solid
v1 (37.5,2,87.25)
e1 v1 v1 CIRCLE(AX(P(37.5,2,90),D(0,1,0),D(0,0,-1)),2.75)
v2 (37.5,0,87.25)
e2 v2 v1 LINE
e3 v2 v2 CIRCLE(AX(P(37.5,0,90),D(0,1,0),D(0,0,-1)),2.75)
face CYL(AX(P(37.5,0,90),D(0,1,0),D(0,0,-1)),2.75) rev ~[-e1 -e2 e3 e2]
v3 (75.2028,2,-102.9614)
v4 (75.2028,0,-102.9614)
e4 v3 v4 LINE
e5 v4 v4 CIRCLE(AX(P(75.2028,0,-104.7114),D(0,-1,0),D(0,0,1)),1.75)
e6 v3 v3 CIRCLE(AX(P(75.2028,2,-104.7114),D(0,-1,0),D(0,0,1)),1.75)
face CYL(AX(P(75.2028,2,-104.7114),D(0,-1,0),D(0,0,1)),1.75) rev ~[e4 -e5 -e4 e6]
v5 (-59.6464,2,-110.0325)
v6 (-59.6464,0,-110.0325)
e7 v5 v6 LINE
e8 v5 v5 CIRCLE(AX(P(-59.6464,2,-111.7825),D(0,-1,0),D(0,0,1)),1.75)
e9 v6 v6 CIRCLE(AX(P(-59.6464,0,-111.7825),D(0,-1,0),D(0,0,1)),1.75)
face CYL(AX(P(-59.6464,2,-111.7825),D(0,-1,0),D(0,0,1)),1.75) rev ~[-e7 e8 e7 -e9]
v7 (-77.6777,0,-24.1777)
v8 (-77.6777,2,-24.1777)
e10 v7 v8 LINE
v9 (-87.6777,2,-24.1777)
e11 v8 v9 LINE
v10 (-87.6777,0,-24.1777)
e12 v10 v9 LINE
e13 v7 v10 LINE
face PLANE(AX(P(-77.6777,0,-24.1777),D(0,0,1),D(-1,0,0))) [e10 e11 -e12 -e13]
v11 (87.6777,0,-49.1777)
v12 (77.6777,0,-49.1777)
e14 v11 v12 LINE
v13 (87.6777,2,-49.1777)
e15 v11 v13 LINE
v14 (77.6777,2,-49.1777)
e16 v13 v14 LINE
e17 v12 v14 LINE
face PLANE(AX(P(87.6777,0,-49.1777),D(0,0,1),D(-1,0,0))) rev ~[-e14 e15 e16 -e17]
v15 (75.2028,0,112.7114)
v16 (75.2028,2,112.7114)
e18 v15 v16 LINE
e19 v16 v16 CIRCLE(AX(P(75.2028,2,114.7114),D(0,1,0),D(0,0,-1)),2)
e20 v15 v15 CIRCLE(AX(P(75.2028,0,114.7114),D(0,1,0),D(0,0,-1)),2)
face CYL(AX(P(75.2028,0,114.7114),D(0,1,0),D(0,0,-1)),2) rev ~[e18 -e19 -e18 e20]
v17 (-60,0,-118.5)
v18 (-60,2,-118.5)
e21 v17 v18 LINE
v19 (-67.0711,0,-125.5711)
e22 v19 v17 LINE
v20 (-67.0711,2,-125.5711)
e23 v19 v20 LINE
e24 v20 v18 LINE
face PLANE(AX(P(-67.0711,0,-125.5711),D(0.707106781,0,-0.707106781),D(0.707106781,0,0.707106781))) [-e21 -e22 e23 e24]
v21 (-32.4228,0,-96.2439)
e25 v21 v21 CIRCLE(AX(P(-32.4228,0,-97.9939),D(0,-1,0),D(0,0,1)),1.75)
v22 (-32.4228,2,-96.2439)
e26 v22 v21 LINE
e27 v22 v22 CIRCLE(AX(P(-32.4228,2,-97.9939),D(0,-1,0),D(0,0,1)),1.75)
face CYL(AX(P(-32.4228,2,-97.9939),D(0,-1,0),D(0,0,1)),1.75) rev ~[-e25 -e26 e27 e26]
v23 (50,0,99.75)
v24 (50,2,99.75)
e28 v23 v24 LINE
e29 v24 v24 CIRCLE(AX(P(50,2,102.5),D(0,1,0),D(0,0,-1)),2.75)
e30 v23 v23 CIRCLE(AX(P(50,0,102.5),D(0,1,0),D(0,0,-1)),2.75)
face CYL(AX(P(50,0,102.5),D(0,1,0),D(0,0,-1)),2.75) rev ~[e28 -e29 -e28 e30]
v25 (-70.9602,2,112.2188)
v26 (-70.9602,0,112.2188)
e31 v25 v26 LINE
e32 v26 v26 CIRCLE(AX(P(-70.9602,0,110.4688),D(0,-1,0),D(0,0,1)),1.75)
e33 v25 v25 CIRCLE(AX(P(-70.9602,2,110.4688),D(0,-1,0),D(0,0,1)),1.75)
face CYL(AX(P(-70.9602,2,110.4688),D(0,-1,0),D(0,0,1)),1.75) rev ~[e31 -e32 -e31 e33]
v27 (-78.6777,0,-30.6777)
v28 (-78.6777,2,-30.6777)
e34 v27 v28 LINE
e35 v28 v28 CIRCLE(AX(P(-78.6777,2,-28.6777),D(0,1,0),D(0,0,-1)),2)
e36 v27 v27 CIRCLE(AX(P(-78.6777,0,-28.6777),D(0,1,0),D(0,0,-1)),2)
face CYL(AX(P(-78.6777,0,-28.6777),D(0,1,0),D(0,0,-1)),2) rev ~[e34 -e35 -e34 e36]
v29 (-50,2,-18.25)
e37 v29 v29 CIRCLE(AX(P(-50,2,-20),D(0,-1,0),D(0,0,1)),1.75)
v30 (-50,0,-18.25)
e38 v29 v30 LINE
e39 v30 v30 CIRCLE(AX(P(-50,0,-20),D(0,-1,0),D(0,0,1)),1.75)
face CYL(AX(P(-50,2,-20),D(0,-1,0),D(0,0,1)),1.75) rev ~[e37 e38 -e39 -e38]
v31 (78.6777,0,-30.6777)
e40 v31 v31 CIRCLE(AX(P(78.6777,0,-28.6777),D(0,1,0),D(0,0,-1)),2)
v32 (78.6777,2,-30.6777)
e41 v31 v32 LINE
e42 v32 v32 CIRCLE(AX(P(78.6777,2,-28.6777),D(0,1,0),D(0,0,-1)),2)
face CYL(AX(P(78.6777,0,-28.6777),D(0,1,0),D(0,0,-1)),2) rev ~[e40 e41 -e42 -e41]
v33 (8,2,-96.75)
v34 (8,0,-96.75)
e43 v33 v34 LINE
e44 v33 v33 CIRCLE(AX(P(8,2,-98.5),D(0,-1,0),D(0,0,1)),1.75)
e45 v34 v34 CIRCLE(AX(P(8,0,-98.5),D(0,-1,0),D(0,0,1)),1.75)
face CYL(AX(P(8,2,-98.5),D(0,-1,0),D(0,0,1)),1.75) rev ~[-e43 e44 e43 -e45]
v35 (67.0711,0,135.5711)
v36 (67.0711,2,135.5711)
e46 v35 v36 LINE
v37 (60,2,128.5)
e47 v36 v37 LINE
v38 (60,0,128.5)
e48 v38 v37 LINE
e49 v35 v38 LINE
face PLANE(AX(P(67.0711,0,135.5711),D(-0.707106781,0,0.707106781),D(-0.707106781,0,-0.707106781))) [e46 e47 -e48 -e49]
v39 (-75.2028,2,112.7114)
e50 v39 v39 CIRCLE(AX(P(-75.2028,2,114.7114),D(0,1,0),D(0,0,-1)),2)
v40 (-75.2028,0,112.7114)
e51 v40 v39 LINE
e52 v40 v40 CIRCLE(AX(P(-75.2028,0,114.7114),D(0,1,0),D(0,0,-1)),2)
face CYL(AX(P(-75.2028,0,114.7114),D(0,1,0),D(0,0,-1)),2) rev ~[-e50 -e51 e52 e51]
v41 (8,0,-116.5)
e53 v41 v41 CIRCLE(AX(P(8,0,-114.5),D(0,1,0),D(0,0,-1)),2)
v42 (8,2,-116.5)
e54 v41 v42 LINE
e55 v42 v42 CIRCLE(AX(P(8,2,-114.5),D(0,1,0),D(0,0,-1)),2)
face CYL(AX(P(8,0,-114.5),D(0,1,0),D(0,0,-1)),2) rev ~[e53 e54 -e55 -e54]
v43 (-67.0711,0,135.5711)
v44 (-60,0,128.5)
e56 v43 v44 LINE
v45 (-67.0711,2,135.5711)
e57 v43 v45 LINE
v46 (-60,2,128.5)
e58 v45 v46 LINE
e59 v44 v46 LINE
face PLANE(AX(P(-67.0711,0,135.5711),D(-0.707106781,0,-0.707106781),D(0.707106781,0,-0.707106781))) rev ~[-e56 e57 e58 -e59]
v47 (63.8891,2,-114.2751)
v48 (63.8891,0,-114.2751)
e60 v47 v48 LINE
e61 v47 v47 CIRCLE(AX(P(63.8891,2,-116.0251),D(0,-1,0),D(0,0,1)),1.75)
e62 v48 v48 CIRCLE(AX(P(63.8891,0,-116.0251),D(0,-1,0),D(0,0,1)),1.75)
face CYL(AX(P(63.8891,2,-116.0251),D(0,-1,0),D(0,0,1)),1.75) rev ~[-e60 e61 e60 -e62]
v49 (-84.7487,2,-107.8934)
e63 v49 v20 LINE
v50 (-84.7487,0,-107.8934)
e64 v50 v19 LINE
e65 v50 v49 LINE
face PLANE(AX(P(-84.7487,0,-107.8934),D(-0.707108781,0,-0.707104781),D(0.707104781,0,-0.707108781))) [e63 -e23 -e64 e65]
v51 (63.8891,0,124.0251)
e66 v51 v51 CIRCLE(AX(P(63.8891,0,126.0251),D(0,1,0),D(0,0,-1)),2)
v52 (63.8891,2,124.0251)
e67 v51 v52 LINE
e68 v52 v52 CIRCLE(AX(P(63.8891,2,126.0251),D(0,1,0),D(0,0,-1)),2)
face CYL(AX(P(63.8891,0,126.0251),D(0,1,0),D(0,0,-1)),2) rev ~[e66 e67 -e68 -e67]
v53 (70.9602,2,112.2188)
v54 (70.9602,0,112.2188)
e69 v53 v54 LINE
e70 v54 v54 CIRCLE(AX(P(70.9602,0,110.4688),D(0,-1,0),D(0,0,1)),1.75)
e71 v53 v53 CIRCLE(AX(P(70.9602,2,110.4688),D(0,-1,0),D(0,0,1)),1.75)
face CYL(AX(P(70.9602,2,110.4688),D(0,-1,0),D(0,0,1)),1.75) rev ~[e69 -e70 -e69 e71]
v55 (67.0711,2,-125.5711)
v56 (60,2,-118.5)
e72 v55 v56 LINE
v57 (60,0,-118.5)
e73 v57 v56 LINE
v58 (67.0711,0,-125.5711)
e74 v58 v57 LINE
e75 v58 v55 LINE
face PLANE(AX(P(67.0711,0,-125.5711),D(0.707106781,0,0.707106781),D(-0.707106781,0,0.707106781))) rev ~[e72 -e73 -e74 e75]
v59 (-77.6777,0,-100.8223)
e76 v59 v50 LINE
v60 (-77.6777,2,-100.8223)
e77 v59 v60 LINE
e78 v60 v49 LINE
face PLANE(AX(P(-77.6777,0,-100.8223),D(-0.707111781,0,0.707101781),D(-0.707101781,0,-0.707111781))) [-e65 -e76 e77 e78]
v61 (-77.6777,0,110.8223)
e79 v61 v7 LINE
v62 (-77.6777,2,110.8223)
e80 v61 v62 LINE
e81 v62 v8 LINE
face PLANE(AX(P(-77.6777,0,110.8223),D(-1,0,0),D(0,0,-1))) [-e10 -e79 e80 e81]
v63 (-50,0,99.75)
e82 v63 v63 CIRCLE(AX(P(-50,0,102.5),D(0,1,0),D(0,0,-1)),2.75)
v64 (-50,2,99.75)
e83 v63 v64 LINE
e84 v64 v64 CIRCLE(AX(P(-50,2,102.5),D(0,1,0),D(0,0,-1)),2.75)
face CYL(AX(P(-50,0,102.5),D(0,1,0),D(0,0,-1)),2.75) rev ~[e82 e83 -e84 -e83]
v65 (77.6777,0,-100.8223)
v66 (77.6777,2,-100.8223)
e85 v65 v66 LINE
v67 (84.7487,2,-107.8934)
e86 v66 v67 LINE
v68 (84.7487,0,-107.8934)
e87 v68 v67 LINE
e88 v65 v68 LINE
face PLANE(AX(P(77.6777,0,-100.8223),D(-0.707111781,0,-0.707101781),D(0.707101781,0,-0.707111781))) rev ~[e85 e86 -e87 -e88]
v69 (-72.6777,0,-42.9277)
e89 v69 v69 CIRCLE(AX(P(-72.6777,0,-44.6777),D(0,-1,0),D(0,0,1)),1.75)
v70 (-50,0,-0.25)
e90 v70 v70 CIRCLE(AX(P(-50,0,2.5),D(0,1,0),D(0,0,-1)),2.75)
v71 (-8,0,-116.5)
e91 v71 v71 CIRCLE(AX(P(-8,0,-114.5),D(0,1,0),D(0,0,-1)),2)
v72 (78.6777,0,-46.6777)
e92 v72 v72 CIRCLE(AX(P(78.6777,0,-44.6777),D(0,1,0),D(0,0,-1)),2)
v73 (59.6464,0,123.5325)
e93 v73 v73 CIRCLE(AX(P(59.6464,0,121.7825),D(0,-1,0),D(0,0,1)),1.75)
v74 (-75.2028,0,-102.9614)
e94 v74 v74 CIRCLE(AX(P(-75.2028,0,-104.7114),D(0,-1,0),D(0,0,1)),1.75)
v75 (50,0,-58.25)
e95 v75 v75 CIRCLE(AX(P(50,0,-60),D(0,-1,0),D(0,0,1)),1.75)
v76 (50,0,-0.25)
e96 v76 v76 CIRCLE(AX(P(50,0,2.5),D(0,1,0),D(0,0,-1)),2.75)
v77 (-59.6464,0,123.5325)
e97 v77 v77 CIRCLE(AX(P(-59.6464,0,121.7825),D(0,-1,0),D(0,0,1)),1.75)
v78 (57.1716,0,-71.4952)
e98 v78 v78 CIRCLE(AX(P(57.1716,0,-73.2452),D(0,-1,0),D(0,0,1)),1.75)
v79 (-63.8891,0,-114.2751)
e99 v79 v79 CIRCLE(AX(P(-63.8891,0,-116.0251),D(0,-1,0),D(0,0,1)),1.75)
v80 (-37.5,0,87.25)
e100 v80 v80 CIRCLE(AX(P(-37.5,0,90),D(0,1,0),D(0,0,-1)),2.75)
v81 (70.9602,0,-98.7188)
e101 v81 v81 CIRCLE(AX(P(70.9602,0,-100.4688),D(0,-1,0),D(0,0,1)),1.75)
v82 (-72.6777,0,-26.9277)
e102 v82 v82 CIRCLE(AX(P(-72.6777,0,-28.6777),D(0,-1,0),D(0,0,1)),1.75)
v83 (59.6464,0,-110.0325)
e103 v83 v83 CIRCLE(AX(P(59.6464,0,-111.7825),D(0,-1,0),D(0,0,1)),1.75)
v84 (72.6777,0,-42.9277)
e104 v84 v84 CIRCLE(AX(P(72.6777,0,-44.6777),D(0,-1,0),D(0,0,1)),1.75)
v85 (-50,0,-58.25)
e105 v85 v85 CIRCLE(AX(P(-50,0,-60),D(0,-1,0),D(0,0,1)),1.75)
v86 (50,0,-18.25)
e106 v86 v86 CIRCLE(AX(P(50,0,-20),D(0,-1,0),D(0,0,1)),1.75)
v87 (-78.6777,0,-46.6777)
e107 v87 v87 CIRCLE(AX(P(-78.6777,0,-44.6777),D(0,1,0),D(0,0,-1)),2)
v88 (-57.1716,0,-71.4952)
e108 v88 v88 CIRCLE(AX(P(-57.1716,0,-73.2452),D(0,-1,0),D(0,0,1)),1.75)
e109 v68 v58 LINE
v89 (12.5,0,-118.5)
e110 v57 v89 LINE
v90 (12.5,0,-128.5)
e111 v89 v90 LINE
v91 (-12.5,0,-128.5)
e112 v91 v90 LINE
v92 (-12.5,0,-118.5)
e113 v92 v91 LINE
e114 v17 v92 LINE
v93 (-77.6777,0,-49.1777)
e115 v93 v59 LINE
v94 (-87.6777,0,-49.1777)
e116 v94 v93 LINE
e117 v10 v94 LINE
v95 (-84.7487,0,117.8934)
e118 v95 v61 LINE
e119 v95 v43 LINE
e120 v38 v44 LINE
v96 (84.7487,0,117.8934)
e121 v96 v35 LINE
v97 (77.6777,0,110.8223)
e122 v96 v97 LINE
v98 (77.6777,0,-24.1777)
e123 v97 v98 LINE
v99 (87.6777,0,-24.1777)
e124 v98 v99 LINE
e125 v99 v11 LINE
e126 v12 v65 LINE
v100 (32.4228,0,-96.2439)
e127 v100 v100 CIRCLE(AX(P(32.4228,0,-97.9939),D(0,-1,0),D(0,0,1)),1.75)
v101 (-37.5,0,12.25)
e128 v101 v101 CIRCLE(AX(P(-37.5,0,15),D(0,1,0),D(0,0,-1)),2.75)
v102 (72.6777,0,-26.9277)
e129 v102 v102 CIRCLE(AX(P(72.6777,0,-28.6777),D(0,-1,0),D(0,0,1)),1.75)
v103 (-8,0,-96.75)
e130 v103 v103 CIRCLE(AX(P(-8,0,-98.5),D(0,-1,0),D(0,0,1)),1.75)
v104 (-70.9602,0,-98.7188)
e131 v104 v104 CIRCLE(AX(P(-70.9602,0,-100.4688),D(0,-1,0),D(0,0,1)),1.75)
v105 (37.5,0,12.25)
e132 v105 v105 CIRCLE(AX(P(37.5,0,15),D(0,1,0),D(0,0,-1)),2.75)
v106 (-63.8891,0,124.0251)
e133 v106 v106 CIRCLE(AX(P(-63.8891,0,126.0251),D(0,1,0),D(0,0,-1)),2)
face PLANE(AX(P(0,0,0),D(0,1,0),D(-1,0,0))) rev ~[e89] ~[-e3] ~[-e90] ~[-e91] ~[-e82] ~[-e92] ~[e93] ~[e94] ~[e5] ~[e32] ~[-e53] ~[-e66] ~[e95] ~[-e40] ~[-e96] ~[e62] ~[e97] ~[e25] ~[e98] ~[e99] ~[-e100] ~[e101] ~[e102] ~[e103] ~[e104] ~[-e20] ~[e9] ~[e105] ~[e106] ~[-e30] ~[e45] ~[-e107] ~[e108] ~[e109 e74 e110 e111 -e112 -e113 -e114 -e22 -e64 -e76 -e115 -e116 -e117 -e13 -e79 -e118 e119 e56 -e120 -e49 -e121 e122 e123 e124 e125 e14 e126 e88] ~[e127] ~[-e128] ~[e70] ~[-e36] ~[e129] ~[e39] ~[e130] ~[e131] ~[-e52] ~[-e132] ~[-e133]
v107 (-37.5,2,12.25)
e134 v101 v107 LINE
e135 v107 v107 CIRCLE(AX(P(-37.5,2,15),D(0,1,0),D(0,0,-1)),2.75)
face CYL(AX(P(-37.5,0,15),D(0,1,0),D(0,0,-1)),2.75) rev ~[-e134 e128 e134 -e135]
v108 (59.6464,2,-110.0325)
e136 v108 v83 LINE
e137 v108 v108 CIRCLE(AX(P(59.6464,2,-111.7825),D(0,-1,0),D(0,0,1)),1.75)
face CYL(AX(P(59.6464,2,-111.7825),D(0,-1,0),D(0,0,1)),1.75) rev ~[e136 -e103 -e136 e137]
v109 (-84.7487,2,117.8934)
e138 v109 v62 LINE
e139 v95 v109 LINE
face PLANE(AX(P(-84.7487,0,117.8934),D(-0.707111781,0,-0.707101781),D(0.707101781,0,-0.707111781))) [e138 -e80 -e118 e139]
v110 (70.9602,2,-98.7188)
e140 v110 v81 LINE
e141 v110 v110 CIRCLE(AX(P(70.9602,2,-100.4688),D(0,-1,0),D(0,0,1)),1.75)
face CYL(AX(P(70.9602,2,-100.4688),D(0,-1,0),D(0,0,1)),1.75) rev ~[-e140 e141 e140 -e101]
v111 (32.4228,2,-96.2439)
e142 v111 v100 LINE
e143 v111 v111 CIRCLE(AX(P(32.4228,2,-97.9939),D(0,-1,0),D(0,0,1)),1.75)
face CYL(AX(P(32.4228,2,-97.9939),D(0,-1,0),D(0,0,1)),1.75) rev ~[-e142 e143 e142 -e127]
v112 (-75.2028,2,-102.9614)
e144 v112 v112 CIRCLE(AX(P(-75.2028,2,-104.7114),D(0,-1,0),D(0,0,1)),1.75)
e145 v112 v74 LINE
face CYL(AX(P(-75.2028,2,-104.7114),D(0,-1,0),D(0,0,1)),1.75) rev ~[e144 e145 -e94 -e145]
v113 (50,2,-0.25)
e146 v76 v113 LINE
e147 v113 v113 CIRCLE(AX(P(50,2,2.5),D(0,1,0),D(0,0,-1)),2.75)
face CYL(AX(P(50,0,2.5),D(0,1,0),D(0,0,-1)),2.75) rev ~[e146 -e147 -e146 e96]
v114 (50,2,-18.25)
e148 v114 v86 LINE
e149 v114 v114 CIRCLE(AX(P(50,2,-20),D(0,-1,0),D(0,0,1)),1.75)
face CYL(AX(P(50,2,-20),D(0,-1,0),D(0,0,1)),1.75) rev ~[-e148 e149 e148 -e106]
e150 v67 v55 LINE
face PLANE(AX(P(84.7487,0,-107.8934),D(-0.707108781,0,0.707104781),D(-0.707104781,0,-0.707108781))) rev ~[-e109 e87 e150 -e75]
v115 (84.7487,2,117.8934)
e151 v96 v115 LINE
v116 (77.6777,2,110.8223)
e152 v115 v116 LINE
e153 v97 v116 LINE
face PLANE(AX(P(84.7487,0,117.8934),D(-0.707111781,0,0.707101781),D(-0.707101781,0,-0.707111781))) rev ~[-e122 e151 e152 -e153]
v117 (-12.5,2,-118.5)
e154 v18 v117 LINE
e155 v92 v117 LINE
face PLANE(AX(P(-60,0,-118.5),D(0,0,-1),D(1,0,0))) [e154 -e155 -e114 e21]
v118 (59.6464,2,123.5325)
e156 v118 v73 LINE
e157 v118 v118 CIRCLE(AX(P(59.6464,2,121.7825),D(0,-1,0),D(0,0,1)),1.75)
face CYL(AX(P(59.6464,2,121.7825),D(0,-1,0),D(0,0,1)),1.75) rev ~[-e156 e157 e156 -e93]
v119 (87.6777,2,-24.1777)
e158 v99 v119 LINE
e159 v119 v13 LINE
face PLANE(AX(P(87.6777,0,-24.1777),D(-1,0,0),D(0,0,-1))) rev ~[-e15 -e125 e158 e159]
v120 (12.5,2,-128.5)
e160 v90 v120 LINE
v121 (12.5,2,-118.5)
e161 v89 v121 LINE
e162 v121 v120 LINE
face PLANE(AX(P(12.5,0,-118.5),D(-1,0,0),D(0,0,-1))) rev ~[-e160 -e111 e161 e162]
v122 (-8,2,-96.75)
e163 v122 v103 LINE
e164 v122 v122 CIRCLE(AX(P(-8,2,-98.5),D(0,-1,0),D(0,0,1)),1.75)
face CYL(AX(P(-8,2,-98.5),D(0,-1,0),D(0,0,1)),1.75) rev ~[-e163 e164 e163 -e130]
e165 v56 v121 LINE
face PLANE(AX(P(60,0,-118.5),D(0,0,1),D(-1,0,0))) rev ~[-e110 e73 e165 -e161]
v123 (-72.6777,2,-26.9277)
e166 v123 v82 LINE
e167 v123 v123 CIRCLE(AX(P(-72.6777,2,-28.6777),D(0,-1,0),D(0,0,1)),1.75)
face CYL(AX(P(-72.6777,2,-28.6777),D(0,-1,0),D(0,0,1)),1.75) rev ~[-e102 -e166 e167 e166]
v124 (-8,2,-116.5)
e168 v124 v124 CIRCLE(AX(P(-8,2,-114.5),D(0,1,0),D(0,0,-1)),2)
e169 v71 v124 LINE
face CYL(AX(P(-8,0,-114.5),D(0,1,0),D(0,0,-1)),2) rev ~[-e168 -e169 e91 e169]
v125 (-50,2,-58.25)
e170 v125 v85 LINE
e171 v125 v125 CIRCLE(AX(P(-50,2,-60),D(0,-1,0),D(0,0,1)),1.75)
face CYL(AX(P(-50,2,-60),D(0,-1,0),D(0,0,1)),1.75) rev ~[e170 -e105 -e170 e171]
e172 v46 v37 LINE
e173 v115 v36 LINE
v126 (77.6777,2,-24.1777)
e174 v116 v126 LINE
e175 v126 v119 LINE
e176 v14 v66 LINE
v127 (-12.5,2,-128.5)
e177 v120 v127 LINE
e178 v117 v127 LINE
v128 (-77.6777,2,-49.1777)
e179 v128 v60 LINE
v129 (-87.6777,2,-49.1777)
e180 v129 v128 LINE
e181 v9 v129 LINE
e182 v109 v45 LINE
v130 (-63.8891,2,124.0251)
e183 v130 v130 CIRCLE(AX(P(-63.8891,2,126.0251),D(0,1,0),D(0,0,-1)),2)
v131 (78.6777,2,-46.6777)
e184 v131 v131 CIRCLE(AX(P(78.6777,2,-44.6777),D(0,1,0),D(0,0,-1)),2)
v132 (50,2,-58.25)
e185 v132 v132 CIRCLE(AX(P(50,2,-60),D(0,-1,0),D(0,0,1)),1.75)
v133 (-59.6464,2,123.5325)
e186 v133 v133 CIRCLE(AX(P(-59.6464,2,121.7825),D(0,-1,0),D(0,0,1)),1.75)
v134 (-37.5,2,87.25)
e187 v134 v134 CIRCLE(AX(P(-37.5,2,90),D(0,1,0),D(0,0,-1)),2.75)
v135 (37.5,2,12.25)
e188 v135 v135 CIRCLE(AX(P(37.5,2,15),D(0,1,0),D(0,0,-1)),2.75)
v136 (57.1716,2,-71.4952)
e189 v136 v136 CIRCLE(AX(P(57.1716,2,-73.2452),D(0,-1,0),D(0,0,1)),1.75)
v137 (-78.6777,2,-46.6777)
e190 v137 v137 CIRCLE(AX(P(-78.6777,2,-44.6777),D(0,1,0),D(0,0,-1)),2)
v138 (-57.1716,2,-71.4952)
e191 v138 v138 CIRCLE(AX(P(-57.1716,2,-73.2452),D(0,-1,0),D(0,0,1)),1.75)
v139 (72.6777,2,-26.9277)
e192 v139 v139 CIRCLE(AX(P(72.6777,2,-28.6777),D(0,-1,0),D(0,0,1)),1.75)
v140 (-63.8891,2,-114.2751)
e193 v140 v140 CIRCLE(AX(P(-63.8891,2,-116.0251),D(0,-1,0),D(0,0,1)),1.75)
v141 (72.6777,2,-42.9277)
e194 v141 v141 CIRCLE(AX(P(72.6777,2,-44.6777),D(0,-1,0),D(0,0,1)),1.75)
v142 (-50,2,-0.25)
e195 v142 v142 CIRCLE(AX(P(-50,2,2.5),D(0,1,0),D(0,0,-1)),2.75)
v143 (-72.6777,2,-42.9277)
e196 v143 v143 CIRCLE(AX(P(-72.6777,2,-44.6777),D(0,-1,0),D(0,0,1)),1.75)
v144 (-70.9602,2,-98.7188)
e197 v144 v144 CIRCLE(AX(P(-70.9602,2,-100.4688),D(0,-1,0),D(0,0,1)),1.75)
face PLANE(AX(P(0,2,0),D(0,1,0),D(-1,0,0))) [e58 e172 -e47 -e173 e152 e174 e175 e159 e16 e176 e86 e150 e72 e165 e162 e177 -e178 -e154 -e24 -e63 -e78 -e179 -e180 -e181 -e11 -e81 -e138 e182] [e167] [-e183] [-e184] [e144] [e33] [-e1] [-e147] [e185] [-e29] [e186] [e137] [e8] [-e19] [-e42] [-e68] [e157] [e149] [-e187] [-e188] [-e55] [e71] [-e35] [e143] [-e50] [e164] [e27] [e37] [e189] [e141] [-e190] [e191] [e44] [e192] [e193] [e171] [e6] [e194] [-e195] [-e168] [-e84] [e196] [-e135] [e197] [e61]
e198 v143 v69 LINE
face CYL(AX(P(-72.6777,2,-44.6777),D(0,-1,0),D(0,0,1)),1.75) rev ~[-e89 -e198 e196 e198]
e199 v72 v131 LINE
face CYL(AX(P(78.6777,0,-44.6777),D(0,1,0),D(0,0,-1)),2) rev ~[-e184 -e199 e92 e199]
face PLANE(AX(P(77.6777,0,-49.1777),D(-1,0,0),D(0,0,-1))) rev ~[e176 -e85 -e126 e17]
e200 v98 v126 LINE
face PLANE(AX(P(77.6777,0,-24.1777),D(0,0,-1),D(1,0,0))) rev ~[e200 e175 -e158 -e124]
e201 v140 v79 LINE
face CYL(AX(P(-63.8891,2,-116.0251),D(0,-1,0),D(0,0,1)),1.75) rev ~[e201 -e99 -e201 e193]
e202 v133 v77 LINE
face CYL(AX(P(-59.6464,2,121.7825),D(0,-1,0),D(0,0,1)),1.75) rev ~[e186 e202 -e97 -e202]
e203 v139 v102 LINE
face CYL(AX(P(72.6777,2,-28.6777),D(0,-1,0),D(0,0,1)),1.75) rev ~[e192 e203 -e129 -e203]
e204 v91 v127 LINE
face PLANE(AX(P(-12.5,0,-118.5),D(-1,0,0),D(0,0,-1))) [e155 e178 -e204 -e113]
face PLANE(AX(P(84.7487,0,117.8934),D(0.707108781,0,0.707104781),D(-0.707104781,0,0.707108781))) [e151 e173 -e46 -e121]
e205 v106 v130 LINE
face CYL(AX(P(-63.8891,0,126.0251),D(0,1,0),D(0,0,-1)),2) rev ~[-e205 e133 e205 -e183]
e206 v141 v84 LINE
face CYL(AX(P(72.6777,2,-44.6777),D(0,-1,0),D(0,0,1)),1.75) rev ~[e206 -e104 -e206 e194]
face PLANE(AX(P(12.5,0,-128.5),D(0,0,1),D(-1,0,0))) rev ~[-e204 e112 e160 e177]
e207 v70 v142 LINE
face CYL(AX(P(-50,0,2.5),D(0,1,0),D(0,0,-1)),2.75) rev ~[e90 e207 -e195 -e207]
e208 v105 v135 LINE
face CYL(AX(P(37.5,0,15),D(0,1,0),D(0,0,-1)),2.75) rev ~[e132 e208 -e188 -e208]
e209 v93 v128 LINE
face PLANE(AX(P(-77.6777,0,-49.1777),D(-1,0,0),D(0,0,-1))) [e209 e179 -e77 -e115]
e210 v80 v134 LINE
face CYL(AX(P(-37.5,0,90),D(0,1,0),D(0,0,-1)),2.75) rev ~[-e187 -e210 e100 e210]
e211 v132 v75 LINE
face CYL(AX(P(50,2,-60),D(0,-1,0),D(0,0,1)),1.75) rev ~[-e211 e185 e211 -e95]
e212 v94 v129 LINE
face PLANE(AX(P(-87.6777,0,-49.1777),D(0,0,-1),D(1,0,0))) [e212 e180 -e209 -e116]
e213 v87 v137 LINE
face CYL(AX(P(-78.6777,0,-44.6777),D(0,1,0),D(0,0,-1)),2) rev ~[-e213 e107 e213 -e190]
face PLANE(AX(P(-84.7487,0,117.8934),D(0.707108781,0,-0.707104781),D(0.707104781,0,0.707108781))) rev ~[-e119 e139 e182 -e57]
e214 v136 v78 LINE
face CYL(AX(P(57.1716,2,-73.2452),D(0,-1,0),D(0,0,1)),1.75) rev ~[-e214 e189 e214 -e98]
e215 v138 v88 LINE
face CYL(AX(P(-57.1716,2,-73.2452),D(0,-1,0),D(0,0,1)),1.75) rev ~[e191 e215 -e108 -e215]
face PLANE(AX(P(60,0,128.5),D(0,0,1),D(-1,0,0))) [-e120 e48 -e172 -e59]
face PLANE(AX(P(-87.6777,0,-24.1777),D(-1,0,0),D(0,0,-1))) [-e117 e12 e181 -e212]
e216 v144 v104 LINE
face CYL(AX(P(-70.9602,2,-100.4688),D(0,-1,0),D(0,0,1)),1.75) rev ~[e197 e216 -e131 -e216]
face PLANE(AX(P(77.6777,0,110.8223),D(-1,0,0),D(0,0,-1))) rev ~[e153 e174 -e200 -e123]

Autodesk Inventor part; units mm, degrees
ref_plane "YZ Plane" through (0, 0, 0) normal (1, 0, 0) x (0, 1, 0)
ref_plane "XZ Plane" through (0, 0, 0) normal (0, 1, 0) x (-1, 0, 0)
ref_plane "XY Plane" through (0, 0, 0) normal (0, 0, 1) x (1, 0, 0)
sketch "スケッチ1" plane through (0, 0, 0) normal (0, 1, 0) x (-1, 0, 0)
  line L0 (-84.7487, 117.8934) -> (-67.0711, 135.5711)
  line L1 (-67.0711, 135.5711) -> (-60, 128.5)
  line L2 (-60, 128.5) -> (0, 128.5)
  line L3 (-84.7487, 117.8934) -> (-77.6777, 110.8223)
  line L4 (-77.6777, 110.8223) -> (-77.6777, -24.1777)
  line L5 (-77.6777, -24.1777) -> (-87.6777, -24.1777)
  line L6 (-87.6777, -24.1777) -> (-87.6777, -49.1777)
  line L7 (-87.6777, -49.1777) -> (-77.6777, -49.1777)
  line L8 (-77.6777, -49.1777) -> (-77.6777, -100.8223)
  line L9 (-77.6777, -100.8223) -> (-84.7487, -107.8934)
  line L10 (-84.7487, -107.8934) -> (-67.0711, -125.5711)
  line L11 (-67.0711, -125.5711) -> (-60, -118.5)
  line L12 (-60, -118.5) -> (-12.5, -118.5)
  line L13 (-12.5, -118.5) -> (-12.5, -128.5)
  line L14 (-12.5, -128.5) -> (0, -128.5)
  line L15 (0, -128.5) -> (0, 128.5)
  line L16 (84.7487, 117.8934) -> (67.0711, 135.5711)
  line L17 (67.0711, 135.5711) -> (60, 128.5)
  line L18 (60, 128.5) -> (0, 128.5)
  line L19 (84.7487, 117.8934) -> (77.6777, 110.8223)
  line L20 (77.6777, 110.8223) -> (77.6777, -24.1777)
  line L21 (77.6777, -24.1777) -> (87.6777, -24.1777)
  line L22 (87.6777, -24.1777) -> (87.6777, -49.1777)
  line L23 (87.6777, -49.1777) -> (77.6777, -49.1777)
  line L24 (77.6777, -49.1777) -> (77.6777, -100.8223)
  line L25 (77.6777, -100.8223) -> (84.7487, -107.8934)
  line L26 (84.7487, -107.8934) -> (67.0711, -125.5711)
  line L27 (67.0711, -125.5711) -> (60, -118.5)
  line L28 (60, -118.5) -> (12.5, -118.5)
  line L29 (12.5, -118.5) -> (12.5, -128.5)
  line L30 (12.5, -128.5) -> (0, -128.5)
  point P0 (0, 0)
  dimension "d0" = 135
  dimension "d2" = 135
  dimension "d4" = 10
  dimension "d6" = 128.5
  dimension "d8" = 25
  dimension "d9" = 257
  dimension "d10" = 12.5
  dimension "d12" = 60
  dimension "d13" = 0
  dimension "d40" = 10
extrude "押し出し1" add sketch "スケッチ1" along normal blind 2
sketch "スケッチ2" plane through (0, 2, 0) normal (0, 1, 0) x (1, 0, 0)
  line L0 (12.5, 128.5) -> (-12.5, 128.5) projected
  line L1 (-67.0711, 125.5711) -> (-84.7487, 107.8934) projected
  line L2 (-84.7487, 107.8934) -> (-77.6777, 100.8223) projected
  line L3 (-87.6777, 49.1777) -> (-87.6777, 24.1777) projected
  line L4 (-87.6777, 24.1777) -> (-77.6777, 24.1777) projected
  line L5 (-84.7487, -117.8934) -> (-67.0711, -135.5711) projected
  line L6 (-67.0711, -135.5711) -> (-60, -128.5) projected
  line L7 (-60, -128.5) -> (60, -128.5) projected
  circle A0 centre (-59.6464, 111.7825) radius 1.6
  circle A1 centre (-70.9602, 100.4688) radius 1.6
  circle A2 centre (-8, 98.5) radius 1.6
  circle A3 centre (-72.6777, 44.6777) radius 1.6
  circle A4 centre (-72.6777, 28.6777) radius 1.6
  circle A5 centre (-70.9602, -110.4688) radius 1.6
  circle A6 centre (-59.6464, -121.7825) radius 1.6
  line L8 (0, 128.5) -> (0, -128.5)
  circle A7 centre (59.6464, 111.7825) radius 1.6
  circle A8 centre (70.9602, 100.4688) radius 1.6
  circle A9 centre (8, 98.5) radius 1.6
  circle A10 centre (72.6777, 44.6777) radius 1.6
  circle A11 centre (72.6777, 28.6777) radius 1.6
  circle A12 centre (70.9602, -110.4688) radius 1.6
  circle A13 centre (59.6464, -121.7825) radius 1.6
  point P0 (0, 0)
  dimension "d16" = 3.2
  dimension "d17" = 30
  dimension "d18" = 8
  dimension "d21" = 15
  dimension "d22" = 15
  dimension "d23" = 16
  dimension "d24" = 4.5
  dimension "d25" = 15
  dimension "d26" = 15
  dimension "d27" = 16
  dimension "d28" = 4.5
  dimension "d29" = 15
  dimension "d30" = 15
  dimension "d31" = 16
  dimension "d32" = 4.5
hole "穴1" at (-59.6464, 2, -111.7825) at (-70.9602, 2, -100.4688) at (-72.6777, 2, -44.6777) at (-72.6777, 2, -28.6777) at (-8, 2, -98.5) at (8, 2, -98.5) at (59.6464, 2, -111.7825) at (70.9602, 2, -100.4688) at (-70.9602, 2, 110.4688) at (-59.6464, 2, 121.7825) at (59.6464, 2, 121.7825) at (70.9602, 2, 110.4688) at (72.6777, 2, -28.6777) at (72.6777, 2, -44.6777) direction (0, -1, 0) diameter 3.5 end through all
sketch "スケッチ3" plane through (0, 0, 0) normal (0, -1, 0) x (1, 0, 0)
  line L0 (-60, 128.5) -> (60, 128.5) projected
  circle A0 centre (-37.5, 90) radius 2.5
  circle A1 centre (-50, 102.5) radius 2.5
  circle A2 centre (-37.5, 15) radius 2.5
  circle A3 centre (-50, 2.5) radius 2.5
  line L1 (0, 0) -> (0, 128.5)
  circle A4 centre (37.5, 90) radius 2.5
  circle A5 centre (50, 2.5) radius 2.5
  circle A6 centre (37.5, 90) radius 2.5
  circle A7 centre (50, 102.5) radius 2.5
  circle A8 centre (37.5, 15) radius 2.5
  circle A9 centre (50, 2.5) radius 2.5
  dimension "d41" = 5
  dimension "d44" = 100
  dimension "d45" = 75
  dimension "d46" = 12.5
  dimension "d47" = 37.5
  dimension "d48" = 50
  dimension "d49" = 37.5
  dimension "d50" = 50
  dimension "d51" = 15
hole "穴2" at (-37.5, 0, 90) at (-50, 0, 102.5) at (-37.5, 0, 15) at (-50, 0, 2.5) at (37.5, 0, 15) at (50, 0, 2.5) at (37.5, 0, 90) at (50, 0, 102.5) direction (0, 1, 0) diameter 5.5 end through all
sketch "スケッチ5" plane through (0, 2, 0) normal (0, 1, 0) x (1, 0, 0)
  line L0 (77.6777, 100.8223) -> (84.7487, 107.8934) projected
  line L1 (84.7487, 107.8934) -> (67.0711, 125.5711) projected
  line L2 (-67.0711, 125.5711) -> (-84.7487, 107.8934) projected
  line L3 (-84.7487, 107.8934) -> (-77.6777, 100.8223) projected
  circle A0 centre (-57.1716, 73.2452) radius 1.5
  circle A1 centre (-32.4228, 97.9939) radius 1.5
  circle A2 centre (32.4228, 97.9939) radius 1.5
  circle A3 centre (57.1716, 73.2452) radius 1.5
  line L4 (-32.4228, 97.9939) -> (-57.1716, 73.2452)
  line L5 (32.4228, 97.9939) -> (57.1716, 73.2452)
  circle A4 centre (-75.2028, 104.7114) radius 1.5
  circle A5 centre (-63.8891, 116.0251) radius 1.5
  circle A6 centre (37.5, -90) radius 2.75 projected
  circle A7 centre (37.5, -15) radius 2.75 projected
  circle A8 centre (-37.5, -15) radius 2.75 projected
  circle A9 centre (-37.5, -90) radius 2.75 projected
  circle A10 centre (-50, -102.5) radius 2.75 projected
  circle A11 centre (-50, -2.5) radius 2.75 projected
  circle A12 centre (50, -2.5) radius 2.75 projected
  circle A13 centre (50, -102.5) radius 2.75 projected
  circle A14 centre (72.6777, 28.6777) radius 1.75 projected
  circle A15 centre (59.6464, -121.7825) radius 1.75 projected
  circle A16 centre (-70.9602, -110.4688) radius 1.75 projected
  circle A17 centre (59.6464, 111.7825) radius 1.75 projected
  circle A18 centre (-8, 98.5) radius 1.75 projected
  circle A19 centre (-72.6777, 44.6777) radius 1.75 projected
  circle A20 centre (-59.6464, 111.7825) radius 1.75 projected
  circle A21 centre (-70.9602, 100.4688) radius 1.75 projected
  circle A22 centre (-72.6777, 28.6777) radius 1.75 projected
  circle A23 centre (8, 98.5) radius 1.75 projected
  circle A24 centre (70.9602, 100.4688) radius 1.75 projected
  circle A25 centre (-59.6464, -121.7825) radius 1.75 projected
  circle A26 centre (70.9602, -110.4688) radius 1.75 projected
  circle A27 centre (72.6777, 44.6777) radius 1.75 projected
  line L6 (84.7487, -117.8934) -> (77.6777, -110.8223) projected
  line L7 (77.6777, -110.8223) -> (77.6777, 24.1777) projected
  line L8 (77.6777, 24.1777) -> (87.6777, 24.1777) projected
  line L9 (87.6777, 24.1777) -> (87.6777, 49.1777) projected
  line L10 (87.6777, 49.1777) -> (77.6777, 49.1777) projected
  line L11 (77.6777, 49.1777) -> (77.6777, 100.8223) projected
  line L12 (77.6777, 100.8223) -> (84.7487, 107.8934) projected
  line L13 (84.7487, 107.8934) -> (67.0711, 125.5711) projected
  line L14 (67.0711, 125.5711) -> (60, 118.5) projected
  line L15 (60, 118.5) -> (12.5, 118.5) projected
  line L16 (12.5, 118.5) -> (12.5, 128.5) projected
  line L17 (12.5, 128.5) -> (-12.5, 128.5) projected
  line L18 (-12.5, 128.5) -> (-12.5, 118.5) projected
  line L19 (-12.5, 118.5) -> (-60, 118.5) projected
  line L20 (-60, 118.5) -> (-67.0711, 125.5711) projected
  line L21 (-67.0711, 125.5711) -> (-84.7487, 107.8934) projected
  line L22 (-84.7487, 107.8934) -> (-77.6777, 100.8223) projected
  line L23 (-77.6777, 100.8223) -> (-77.6777, 49.1777) projected
  line L24 (-77.6777, 49.1777) -> (-87.6777, 49.1777) projected
  line L25 (-87.6777, 49.1777) -> (-87.6777, 24.1777) projected
  line L26 (-87.6777, 24.1777) -> (-77.6777, 24.1777) projected
  line L27 (-77.6777, 24.1777) -> (-77.6777, -110.8223) projected
  line L28 (-77.6777, -110.8223) -> (-84.7487, -117.8934) projected
  line L29 (-84.7487, -117.8934) -> (-67.0711, -135.5711) projected
  line L30 (-67.0711, -135.5711) -> (-60, -128.5) projected
  line L31 (-60, -128.5) -> (60, -128.5) projected
  line L32 (60, -128.5) -> (67.0711, -135.5711) projected
  line L33 (67.0711, -135.5711) -> (84.7487, -117.8934) projected
  line L34 (-75.2028, 104.7114) -> (-63.8891, 116.0251)
  circle A28 centre (63.8891, 116.0251) radius 1.5
  circle A29 centre (75.2028, 104.7114) radius 1.5
  line L35 (63.8891, 116.0251) -> (75.2028, 104.7114)
  point P0 (0, 0)
  dimension "d64" = 3
  dimension "d65" = 35
  dimension "d68" = 5
  dimension "d69" = 5
  dimension "d77" = 16
  dimension "d80" = 4.5
  dimension "d82" = 4.5
  dimension "d83" = 16
  dimension "d129" = 6
  dimension "d130" = 35
  dimension "d131" = 6
  dimension "d132" = 35
hole "穴4" at (-75.2028, 2, -104.7114) at (-63.8891, 2, -116.0251) at (-57.1716, 2, -73.2452) at (-32.4228, 2, -97.9939) at (32.4228, 2, -97.9939) at (57.1716, 2, -73.2452) at (75.2028, 2, -104.7114) at (63.8891, 2, -116.0251) direction (0, -1, 0) diameter 3.5 end through all
sketch "スケッチ6" plane through (0, 2, 0) normal (0, 1, 0) x (1, 0, 0)
  circle A0 centre (-50, 60) radius 1.75
  circle A1 centre (-50, 20) radius 1.75
  circle A2 centre (50, 60) radius 1.75
  circle A3 centre (50, 20) radius 1.75
  point P0 (0, 0)
  dimension "d91" = 100
  dimension "d93" = 100
  dimension "d94" = 40
  dimension "d95" = 40
  dimension "d96" = 3.5
  dimension "d97" = 60
  dimension "d98" = 60
  dimension "d99" = 50
  dimension "d100" = 50
hole "穴5" at (-50, 2, -60) at (-50, 2, -20) at (50, 2, -60) at (50, 2, -20) direction (0, -1, 0) diameter 3.5 end through all
sketch "スケッチ7" plane through (0, 2, 0) normal (0, 1, 0) x (1, 0, 0)
  circle A0 centre (50, 60) radius 1.75 projected
  circle A1 centre (-50, 60) radius 1.75 projected
  circle A2 centre (-50, 20) radius 1.75 projected
  circle A3 centre (50, 20) radius 1.75 projected
  circle A4 centre (75.2028, 104.7114) radius 1.75 projected
  circle A5 centre (32.4228, 97.9939) radius 1.75 projected
  circle A6 centre (-57.1716, 73.2452) radius 1.75 projected
  circle A7 centre (-75.2028, 104.7114) radius 1.75 projected
  circle A8 centre (-63.8891, 116.0251) radius 1.75 projected
  circle A9 centre (-32.4228, 97.9939) radius 1.75 projected
  circle A10 centre (57.1716, 73.2452) radius 1.75 projected
  circle A11 centre (63.8891, 116.0251) radius 1.75 projected
  circle A12 centre (37.5, -90) radius 2.75 projected
  circle A13 centre (37.5, -15) radius 2.75 projected
  circle A14 centre (-37.5, -15) radius 2.75 projected
  circle A15 centre (-37.5, -90) radius 2.75 projected
  circle A16 centre (-50, -102.5) radius 2.75 projected
  circle A17 centre (-50, -2.5) radius 2.75 projected
  circle A18 centre (50, -2.5) radius 2.75 projected
  circle A19 centre (50, -102.5) radius 2.75 projected
  circle A20 centre (72.6777, 28.6777) radius 1.75 projected
  circle A21 centre (59.6464, -121.7825) radius 1.75 projected
  circle A22 centre (-70.9602, -110.4688) radius 1.75 projected
  circle A23 centre (59.6464, 111.7825) radius 1.75 projected
  circle A24 centre (-8, 98.5) radius 1.75 projected
  circle A25 centre (-72.6777, 44.6777) radius 1.75 projected
  circle A26 centre (-59.6464, 111.7825) radius 1.75 projected
  circle A27 centre (-70.9602, 100.4688) radius 1.75 projected
  circle A28 centre (-72.6777, 28.6777) radius 1.75 projected
  circle A29 centre (8, 98.5) radius 1.75 projected
  circle A30 centre (70.9602, 100.4688) radius 1.75 projected
  circle A31 centre (-59.6464, -121.7825) radius 1.75 projected
  circle A32 centre (70.9602, -110.4688) radius 1.75 projected
  circle A33 centre (72.6777, 44.6777) radius 1.75 projected
  line L0 (84.7487, -117.8934) -> (77.6777, -110.8223) projected
  line L1 (77.6777, -110.8223) -> (77.6777, 24.1777) projected
  line L2 (77.6777, 24.1777) -> (87.6777, 24.1777) projected
  line L3 (87.6777, 24.1777) -> (87.6777, 49.1777) projected
  line L4 (87.6777, 49.1777) -> (77.6777, 49.1777) projected
  line L5 (77.6777, 49.1777) -> (77.6777, 100.8223) projected
  line L6 (77.6777, 100.8223) -> (84.7487, 107.8934) projected
  line L7 (84.7487, 107.8934) -> (67.0711, 125.5711) projected
  line L8 (67.0711, 125.5711) -> (60, 118.5) projected
  line L9 (60, 118.5) -> (12.5, 118.5) projected
  line L10 (12.5, 118.5) -> (12.5, 128.5) projected
  line L11 (12.5, 128.5) -> (-12.5, 128.5) projected
  line L12 (-12.5, 128.5) -> (-12.5, 118.5) projected
  line L13 (-12.5, 118.5) -> (-60, 118.5) projected
  line L14 (-60, 118.5) -> (-67.0711, 125.5711) projected
  line L15 (-67.0711, 125.5711) -> (-84.7487, 107.8934) projected
  line L16 (-84.7487, 107.8934) -> (-77.6777, 100.8223) projected
  line L17 (-77.6777, 100.8223) -> (-77.6777, 49.1777) projected
  line L18 (-77.6777, 49.1777) -> (-87.6777, 49.1777) projected
  line L19 (-87.6777, 49.1777) -> (-87.6777, 24.1777) projected
  line L20 (-87.6777, 24.1777) -> (-77.6777, 24.1777) projected
  line L21 (-77.6777, 24.1777) -> (-77.6777, -110.8223) projected
  line L22 (-77.6777, -110.8223) -> (-84.7487, -117.8934) projected
  line L23 (-84.7487, -117.8934) -> (-67.0711, -135.5711) projected
  line L24 (-67.0711, -135.5711) -> (-60, -128.5) projected
  line L25 (-60, -128.5) -> (60, -128.5) projected
  line L26 (60, -128.5) -> (67.0711, -135.5711) projected
  line L27 (67.0711, -135.5711) -> (84.7487, -117.8934) projected
  line L28 (-30, 60) -> (0, 47.5736)
  line L29 (0, 47.5736) -> (30, 60)
  line L30 (30, 60) -> (-30, 60)
  line L31 (-50, 50) -> (-50, 30)
  line L32 (-50, 30) -> (-12.6795, 40)
  line L33 (-12.6795, 40) -> (-50, 50)
  line L34 (-38.2518, -17.6489) -> (-36.0663, -17.3467)
  line L35 (-38.2518, -17.6452) -> (-38.2518, -17.6489)
  line L36 (-30, 0) -> (30, 0)
  line L37 (30, 0) -> (0, -30)
  line L38 (0, -30) -> (-30, 0)
  line L39 (0, 60) -> (0, 20)
  line L40 (-50, 40) -> (50, 40)
  line L41 (-50, -2.5) -> (0, -52.5)
  line L42 (50, -2.5) -> (0, -52.5)
  line L43 (-52.5, -82.5) -> (-52.5, -22.5)
  line L44 (-52.5, -22.5) -> (-22.5, -52.5)
  line L45 (-22.5, -52.5) -> (-52.5, -82.5)
  line L46 (30, -105) -> (-30, -105)
  line L47 (-30, -105) -> (0, -75)
  line L48 (0, -75) -> (30, -105)
  line L49 (52.5, -22.5) -> (52.5, -82.5)
  line L50 (52.5, -82.5) -> (22.5, -52.5)
  line L51 (22.5, -52.5) -> (52.5, -22.5)
  line L52 (-30, 20) -> (0, 32.4264)
  line L53 (0, 32.4264) -> (30, 20)
  line L54 (30, 20) -> (-30, 20)
  line L55 (50, 50) -> (50, 30)
  line L56 (50, 30) -> (12.6795, 40)
  line L57 (12.6795, 40) -> (50, 50)
  point P0 (0, 0)
  dimension "d109" = 135
  dimension "d110" = 60
  dimension "d112" = 20
  dimension "d113" = 0
  dimension "d114" = 0
  dimension "d115" = 20
  dimension "d116" = 10
  dimension "d117" = 30
  dimension "d119" = 60
  dimension "d120" = 20
  dimension "d121" = 90
  dimension "d122" = 0
  dimension "d125" = 360
extrude "押し出し2" [suppressed]
sketch "スケッチ9" plane through (0, 0, 0) normal (0, -1, 0) x (1, 0, 0)
  circle A0 centre (-70.9602, 110.4688) radius 1.75 projected
  circle A1 centre (-8, -98.5) radius 1.75 projected
  circle A2 centre (-72.6777, -44.6777) radius 1.75 projected
  circle A3 centre (-59.6464, 121.7825) radius 1.75 projected
  line L0 (-60, 128.5) -> (60, 128.5) projected
  line L1 (-67.0711, 135.5711) -> (-60, 128.5) projected
  line L2 (-77.6777, 110.8223) -> (-84.7487, 117.8934) projected
  line L3 (-87.6777, -49.1777) -> (-87.6777, -24.1777) projected
  line L4 (-77.6777, -49.1777) -> (-87.6777, -49.1777) projected
  line L5 (-12.5, -128.5) -> (-12.5, -118.5) projected
  line L6 (12.5, -128.5) -> (-12.5, -128.5) projected
  line L7 (77.6777, 110.8223) -> (77.6777, -24.1777) projected
  circle A4 centre (-78.6777, -28.6777) radius 2
  circle A5 centre (-78.6777, -44.6777) radius 2
  circle A6 centre (-63.8891, 126.0251) radius 2
  circle A7 centre (-75.2028, 114.7114) radius 2
  line L8 (-78.6777, -44.6777) -> (-78.6777, -28.6777)
  line L9 (-75.2028, 114.7114) -> (-63.8891, 126.0251)
  line L10 (0, 128.5) -> (0, -128.5)
  circle A8 centre (-8, -114.5) radius 2
  circle A9 centre (78.6777, -28.6777) radius 2
  circle A10 centre (78.6777, -44.6777) radius 2
  circle A11 centre (63.8891, 126.0251) radius 2
  circle A12 centre (75.2028, 114.7114) radius 2
  circle A13 centre (8, -114.5) radius 2
  point P0 (0, 0)
  dimension "d133" = 4
  dimension "d135" = 6
  dimension "d136" = 4.5
  dimension "d137" = 16
  dimension "d142" = 4.5
  dimension "d143" = 4.5
  dimension "d144" = 6
  dimension "d145" = 6
  dimension "d146" = 16
  dimension "d147" = 4.5
hole "穴6" at (78.6777, 0, -28.6777) at (78.6777, 0, -44.6777) at (8, 0, -114.5) at (-8, 0, -114.5) at (-78.6777, 0, -44.6777) at (-78.6777, 0, -28.6777) at (-75.2028, 0, 114.7114) at (-63.8891, 0, 126.0251) at (63.8891, 0, 126.0251) at (75.2028, 0, 114.7114) direction (0, 1, 0) diameter 4 end through all
properties part number "Main Plate" material "アルミニウム 6061"
